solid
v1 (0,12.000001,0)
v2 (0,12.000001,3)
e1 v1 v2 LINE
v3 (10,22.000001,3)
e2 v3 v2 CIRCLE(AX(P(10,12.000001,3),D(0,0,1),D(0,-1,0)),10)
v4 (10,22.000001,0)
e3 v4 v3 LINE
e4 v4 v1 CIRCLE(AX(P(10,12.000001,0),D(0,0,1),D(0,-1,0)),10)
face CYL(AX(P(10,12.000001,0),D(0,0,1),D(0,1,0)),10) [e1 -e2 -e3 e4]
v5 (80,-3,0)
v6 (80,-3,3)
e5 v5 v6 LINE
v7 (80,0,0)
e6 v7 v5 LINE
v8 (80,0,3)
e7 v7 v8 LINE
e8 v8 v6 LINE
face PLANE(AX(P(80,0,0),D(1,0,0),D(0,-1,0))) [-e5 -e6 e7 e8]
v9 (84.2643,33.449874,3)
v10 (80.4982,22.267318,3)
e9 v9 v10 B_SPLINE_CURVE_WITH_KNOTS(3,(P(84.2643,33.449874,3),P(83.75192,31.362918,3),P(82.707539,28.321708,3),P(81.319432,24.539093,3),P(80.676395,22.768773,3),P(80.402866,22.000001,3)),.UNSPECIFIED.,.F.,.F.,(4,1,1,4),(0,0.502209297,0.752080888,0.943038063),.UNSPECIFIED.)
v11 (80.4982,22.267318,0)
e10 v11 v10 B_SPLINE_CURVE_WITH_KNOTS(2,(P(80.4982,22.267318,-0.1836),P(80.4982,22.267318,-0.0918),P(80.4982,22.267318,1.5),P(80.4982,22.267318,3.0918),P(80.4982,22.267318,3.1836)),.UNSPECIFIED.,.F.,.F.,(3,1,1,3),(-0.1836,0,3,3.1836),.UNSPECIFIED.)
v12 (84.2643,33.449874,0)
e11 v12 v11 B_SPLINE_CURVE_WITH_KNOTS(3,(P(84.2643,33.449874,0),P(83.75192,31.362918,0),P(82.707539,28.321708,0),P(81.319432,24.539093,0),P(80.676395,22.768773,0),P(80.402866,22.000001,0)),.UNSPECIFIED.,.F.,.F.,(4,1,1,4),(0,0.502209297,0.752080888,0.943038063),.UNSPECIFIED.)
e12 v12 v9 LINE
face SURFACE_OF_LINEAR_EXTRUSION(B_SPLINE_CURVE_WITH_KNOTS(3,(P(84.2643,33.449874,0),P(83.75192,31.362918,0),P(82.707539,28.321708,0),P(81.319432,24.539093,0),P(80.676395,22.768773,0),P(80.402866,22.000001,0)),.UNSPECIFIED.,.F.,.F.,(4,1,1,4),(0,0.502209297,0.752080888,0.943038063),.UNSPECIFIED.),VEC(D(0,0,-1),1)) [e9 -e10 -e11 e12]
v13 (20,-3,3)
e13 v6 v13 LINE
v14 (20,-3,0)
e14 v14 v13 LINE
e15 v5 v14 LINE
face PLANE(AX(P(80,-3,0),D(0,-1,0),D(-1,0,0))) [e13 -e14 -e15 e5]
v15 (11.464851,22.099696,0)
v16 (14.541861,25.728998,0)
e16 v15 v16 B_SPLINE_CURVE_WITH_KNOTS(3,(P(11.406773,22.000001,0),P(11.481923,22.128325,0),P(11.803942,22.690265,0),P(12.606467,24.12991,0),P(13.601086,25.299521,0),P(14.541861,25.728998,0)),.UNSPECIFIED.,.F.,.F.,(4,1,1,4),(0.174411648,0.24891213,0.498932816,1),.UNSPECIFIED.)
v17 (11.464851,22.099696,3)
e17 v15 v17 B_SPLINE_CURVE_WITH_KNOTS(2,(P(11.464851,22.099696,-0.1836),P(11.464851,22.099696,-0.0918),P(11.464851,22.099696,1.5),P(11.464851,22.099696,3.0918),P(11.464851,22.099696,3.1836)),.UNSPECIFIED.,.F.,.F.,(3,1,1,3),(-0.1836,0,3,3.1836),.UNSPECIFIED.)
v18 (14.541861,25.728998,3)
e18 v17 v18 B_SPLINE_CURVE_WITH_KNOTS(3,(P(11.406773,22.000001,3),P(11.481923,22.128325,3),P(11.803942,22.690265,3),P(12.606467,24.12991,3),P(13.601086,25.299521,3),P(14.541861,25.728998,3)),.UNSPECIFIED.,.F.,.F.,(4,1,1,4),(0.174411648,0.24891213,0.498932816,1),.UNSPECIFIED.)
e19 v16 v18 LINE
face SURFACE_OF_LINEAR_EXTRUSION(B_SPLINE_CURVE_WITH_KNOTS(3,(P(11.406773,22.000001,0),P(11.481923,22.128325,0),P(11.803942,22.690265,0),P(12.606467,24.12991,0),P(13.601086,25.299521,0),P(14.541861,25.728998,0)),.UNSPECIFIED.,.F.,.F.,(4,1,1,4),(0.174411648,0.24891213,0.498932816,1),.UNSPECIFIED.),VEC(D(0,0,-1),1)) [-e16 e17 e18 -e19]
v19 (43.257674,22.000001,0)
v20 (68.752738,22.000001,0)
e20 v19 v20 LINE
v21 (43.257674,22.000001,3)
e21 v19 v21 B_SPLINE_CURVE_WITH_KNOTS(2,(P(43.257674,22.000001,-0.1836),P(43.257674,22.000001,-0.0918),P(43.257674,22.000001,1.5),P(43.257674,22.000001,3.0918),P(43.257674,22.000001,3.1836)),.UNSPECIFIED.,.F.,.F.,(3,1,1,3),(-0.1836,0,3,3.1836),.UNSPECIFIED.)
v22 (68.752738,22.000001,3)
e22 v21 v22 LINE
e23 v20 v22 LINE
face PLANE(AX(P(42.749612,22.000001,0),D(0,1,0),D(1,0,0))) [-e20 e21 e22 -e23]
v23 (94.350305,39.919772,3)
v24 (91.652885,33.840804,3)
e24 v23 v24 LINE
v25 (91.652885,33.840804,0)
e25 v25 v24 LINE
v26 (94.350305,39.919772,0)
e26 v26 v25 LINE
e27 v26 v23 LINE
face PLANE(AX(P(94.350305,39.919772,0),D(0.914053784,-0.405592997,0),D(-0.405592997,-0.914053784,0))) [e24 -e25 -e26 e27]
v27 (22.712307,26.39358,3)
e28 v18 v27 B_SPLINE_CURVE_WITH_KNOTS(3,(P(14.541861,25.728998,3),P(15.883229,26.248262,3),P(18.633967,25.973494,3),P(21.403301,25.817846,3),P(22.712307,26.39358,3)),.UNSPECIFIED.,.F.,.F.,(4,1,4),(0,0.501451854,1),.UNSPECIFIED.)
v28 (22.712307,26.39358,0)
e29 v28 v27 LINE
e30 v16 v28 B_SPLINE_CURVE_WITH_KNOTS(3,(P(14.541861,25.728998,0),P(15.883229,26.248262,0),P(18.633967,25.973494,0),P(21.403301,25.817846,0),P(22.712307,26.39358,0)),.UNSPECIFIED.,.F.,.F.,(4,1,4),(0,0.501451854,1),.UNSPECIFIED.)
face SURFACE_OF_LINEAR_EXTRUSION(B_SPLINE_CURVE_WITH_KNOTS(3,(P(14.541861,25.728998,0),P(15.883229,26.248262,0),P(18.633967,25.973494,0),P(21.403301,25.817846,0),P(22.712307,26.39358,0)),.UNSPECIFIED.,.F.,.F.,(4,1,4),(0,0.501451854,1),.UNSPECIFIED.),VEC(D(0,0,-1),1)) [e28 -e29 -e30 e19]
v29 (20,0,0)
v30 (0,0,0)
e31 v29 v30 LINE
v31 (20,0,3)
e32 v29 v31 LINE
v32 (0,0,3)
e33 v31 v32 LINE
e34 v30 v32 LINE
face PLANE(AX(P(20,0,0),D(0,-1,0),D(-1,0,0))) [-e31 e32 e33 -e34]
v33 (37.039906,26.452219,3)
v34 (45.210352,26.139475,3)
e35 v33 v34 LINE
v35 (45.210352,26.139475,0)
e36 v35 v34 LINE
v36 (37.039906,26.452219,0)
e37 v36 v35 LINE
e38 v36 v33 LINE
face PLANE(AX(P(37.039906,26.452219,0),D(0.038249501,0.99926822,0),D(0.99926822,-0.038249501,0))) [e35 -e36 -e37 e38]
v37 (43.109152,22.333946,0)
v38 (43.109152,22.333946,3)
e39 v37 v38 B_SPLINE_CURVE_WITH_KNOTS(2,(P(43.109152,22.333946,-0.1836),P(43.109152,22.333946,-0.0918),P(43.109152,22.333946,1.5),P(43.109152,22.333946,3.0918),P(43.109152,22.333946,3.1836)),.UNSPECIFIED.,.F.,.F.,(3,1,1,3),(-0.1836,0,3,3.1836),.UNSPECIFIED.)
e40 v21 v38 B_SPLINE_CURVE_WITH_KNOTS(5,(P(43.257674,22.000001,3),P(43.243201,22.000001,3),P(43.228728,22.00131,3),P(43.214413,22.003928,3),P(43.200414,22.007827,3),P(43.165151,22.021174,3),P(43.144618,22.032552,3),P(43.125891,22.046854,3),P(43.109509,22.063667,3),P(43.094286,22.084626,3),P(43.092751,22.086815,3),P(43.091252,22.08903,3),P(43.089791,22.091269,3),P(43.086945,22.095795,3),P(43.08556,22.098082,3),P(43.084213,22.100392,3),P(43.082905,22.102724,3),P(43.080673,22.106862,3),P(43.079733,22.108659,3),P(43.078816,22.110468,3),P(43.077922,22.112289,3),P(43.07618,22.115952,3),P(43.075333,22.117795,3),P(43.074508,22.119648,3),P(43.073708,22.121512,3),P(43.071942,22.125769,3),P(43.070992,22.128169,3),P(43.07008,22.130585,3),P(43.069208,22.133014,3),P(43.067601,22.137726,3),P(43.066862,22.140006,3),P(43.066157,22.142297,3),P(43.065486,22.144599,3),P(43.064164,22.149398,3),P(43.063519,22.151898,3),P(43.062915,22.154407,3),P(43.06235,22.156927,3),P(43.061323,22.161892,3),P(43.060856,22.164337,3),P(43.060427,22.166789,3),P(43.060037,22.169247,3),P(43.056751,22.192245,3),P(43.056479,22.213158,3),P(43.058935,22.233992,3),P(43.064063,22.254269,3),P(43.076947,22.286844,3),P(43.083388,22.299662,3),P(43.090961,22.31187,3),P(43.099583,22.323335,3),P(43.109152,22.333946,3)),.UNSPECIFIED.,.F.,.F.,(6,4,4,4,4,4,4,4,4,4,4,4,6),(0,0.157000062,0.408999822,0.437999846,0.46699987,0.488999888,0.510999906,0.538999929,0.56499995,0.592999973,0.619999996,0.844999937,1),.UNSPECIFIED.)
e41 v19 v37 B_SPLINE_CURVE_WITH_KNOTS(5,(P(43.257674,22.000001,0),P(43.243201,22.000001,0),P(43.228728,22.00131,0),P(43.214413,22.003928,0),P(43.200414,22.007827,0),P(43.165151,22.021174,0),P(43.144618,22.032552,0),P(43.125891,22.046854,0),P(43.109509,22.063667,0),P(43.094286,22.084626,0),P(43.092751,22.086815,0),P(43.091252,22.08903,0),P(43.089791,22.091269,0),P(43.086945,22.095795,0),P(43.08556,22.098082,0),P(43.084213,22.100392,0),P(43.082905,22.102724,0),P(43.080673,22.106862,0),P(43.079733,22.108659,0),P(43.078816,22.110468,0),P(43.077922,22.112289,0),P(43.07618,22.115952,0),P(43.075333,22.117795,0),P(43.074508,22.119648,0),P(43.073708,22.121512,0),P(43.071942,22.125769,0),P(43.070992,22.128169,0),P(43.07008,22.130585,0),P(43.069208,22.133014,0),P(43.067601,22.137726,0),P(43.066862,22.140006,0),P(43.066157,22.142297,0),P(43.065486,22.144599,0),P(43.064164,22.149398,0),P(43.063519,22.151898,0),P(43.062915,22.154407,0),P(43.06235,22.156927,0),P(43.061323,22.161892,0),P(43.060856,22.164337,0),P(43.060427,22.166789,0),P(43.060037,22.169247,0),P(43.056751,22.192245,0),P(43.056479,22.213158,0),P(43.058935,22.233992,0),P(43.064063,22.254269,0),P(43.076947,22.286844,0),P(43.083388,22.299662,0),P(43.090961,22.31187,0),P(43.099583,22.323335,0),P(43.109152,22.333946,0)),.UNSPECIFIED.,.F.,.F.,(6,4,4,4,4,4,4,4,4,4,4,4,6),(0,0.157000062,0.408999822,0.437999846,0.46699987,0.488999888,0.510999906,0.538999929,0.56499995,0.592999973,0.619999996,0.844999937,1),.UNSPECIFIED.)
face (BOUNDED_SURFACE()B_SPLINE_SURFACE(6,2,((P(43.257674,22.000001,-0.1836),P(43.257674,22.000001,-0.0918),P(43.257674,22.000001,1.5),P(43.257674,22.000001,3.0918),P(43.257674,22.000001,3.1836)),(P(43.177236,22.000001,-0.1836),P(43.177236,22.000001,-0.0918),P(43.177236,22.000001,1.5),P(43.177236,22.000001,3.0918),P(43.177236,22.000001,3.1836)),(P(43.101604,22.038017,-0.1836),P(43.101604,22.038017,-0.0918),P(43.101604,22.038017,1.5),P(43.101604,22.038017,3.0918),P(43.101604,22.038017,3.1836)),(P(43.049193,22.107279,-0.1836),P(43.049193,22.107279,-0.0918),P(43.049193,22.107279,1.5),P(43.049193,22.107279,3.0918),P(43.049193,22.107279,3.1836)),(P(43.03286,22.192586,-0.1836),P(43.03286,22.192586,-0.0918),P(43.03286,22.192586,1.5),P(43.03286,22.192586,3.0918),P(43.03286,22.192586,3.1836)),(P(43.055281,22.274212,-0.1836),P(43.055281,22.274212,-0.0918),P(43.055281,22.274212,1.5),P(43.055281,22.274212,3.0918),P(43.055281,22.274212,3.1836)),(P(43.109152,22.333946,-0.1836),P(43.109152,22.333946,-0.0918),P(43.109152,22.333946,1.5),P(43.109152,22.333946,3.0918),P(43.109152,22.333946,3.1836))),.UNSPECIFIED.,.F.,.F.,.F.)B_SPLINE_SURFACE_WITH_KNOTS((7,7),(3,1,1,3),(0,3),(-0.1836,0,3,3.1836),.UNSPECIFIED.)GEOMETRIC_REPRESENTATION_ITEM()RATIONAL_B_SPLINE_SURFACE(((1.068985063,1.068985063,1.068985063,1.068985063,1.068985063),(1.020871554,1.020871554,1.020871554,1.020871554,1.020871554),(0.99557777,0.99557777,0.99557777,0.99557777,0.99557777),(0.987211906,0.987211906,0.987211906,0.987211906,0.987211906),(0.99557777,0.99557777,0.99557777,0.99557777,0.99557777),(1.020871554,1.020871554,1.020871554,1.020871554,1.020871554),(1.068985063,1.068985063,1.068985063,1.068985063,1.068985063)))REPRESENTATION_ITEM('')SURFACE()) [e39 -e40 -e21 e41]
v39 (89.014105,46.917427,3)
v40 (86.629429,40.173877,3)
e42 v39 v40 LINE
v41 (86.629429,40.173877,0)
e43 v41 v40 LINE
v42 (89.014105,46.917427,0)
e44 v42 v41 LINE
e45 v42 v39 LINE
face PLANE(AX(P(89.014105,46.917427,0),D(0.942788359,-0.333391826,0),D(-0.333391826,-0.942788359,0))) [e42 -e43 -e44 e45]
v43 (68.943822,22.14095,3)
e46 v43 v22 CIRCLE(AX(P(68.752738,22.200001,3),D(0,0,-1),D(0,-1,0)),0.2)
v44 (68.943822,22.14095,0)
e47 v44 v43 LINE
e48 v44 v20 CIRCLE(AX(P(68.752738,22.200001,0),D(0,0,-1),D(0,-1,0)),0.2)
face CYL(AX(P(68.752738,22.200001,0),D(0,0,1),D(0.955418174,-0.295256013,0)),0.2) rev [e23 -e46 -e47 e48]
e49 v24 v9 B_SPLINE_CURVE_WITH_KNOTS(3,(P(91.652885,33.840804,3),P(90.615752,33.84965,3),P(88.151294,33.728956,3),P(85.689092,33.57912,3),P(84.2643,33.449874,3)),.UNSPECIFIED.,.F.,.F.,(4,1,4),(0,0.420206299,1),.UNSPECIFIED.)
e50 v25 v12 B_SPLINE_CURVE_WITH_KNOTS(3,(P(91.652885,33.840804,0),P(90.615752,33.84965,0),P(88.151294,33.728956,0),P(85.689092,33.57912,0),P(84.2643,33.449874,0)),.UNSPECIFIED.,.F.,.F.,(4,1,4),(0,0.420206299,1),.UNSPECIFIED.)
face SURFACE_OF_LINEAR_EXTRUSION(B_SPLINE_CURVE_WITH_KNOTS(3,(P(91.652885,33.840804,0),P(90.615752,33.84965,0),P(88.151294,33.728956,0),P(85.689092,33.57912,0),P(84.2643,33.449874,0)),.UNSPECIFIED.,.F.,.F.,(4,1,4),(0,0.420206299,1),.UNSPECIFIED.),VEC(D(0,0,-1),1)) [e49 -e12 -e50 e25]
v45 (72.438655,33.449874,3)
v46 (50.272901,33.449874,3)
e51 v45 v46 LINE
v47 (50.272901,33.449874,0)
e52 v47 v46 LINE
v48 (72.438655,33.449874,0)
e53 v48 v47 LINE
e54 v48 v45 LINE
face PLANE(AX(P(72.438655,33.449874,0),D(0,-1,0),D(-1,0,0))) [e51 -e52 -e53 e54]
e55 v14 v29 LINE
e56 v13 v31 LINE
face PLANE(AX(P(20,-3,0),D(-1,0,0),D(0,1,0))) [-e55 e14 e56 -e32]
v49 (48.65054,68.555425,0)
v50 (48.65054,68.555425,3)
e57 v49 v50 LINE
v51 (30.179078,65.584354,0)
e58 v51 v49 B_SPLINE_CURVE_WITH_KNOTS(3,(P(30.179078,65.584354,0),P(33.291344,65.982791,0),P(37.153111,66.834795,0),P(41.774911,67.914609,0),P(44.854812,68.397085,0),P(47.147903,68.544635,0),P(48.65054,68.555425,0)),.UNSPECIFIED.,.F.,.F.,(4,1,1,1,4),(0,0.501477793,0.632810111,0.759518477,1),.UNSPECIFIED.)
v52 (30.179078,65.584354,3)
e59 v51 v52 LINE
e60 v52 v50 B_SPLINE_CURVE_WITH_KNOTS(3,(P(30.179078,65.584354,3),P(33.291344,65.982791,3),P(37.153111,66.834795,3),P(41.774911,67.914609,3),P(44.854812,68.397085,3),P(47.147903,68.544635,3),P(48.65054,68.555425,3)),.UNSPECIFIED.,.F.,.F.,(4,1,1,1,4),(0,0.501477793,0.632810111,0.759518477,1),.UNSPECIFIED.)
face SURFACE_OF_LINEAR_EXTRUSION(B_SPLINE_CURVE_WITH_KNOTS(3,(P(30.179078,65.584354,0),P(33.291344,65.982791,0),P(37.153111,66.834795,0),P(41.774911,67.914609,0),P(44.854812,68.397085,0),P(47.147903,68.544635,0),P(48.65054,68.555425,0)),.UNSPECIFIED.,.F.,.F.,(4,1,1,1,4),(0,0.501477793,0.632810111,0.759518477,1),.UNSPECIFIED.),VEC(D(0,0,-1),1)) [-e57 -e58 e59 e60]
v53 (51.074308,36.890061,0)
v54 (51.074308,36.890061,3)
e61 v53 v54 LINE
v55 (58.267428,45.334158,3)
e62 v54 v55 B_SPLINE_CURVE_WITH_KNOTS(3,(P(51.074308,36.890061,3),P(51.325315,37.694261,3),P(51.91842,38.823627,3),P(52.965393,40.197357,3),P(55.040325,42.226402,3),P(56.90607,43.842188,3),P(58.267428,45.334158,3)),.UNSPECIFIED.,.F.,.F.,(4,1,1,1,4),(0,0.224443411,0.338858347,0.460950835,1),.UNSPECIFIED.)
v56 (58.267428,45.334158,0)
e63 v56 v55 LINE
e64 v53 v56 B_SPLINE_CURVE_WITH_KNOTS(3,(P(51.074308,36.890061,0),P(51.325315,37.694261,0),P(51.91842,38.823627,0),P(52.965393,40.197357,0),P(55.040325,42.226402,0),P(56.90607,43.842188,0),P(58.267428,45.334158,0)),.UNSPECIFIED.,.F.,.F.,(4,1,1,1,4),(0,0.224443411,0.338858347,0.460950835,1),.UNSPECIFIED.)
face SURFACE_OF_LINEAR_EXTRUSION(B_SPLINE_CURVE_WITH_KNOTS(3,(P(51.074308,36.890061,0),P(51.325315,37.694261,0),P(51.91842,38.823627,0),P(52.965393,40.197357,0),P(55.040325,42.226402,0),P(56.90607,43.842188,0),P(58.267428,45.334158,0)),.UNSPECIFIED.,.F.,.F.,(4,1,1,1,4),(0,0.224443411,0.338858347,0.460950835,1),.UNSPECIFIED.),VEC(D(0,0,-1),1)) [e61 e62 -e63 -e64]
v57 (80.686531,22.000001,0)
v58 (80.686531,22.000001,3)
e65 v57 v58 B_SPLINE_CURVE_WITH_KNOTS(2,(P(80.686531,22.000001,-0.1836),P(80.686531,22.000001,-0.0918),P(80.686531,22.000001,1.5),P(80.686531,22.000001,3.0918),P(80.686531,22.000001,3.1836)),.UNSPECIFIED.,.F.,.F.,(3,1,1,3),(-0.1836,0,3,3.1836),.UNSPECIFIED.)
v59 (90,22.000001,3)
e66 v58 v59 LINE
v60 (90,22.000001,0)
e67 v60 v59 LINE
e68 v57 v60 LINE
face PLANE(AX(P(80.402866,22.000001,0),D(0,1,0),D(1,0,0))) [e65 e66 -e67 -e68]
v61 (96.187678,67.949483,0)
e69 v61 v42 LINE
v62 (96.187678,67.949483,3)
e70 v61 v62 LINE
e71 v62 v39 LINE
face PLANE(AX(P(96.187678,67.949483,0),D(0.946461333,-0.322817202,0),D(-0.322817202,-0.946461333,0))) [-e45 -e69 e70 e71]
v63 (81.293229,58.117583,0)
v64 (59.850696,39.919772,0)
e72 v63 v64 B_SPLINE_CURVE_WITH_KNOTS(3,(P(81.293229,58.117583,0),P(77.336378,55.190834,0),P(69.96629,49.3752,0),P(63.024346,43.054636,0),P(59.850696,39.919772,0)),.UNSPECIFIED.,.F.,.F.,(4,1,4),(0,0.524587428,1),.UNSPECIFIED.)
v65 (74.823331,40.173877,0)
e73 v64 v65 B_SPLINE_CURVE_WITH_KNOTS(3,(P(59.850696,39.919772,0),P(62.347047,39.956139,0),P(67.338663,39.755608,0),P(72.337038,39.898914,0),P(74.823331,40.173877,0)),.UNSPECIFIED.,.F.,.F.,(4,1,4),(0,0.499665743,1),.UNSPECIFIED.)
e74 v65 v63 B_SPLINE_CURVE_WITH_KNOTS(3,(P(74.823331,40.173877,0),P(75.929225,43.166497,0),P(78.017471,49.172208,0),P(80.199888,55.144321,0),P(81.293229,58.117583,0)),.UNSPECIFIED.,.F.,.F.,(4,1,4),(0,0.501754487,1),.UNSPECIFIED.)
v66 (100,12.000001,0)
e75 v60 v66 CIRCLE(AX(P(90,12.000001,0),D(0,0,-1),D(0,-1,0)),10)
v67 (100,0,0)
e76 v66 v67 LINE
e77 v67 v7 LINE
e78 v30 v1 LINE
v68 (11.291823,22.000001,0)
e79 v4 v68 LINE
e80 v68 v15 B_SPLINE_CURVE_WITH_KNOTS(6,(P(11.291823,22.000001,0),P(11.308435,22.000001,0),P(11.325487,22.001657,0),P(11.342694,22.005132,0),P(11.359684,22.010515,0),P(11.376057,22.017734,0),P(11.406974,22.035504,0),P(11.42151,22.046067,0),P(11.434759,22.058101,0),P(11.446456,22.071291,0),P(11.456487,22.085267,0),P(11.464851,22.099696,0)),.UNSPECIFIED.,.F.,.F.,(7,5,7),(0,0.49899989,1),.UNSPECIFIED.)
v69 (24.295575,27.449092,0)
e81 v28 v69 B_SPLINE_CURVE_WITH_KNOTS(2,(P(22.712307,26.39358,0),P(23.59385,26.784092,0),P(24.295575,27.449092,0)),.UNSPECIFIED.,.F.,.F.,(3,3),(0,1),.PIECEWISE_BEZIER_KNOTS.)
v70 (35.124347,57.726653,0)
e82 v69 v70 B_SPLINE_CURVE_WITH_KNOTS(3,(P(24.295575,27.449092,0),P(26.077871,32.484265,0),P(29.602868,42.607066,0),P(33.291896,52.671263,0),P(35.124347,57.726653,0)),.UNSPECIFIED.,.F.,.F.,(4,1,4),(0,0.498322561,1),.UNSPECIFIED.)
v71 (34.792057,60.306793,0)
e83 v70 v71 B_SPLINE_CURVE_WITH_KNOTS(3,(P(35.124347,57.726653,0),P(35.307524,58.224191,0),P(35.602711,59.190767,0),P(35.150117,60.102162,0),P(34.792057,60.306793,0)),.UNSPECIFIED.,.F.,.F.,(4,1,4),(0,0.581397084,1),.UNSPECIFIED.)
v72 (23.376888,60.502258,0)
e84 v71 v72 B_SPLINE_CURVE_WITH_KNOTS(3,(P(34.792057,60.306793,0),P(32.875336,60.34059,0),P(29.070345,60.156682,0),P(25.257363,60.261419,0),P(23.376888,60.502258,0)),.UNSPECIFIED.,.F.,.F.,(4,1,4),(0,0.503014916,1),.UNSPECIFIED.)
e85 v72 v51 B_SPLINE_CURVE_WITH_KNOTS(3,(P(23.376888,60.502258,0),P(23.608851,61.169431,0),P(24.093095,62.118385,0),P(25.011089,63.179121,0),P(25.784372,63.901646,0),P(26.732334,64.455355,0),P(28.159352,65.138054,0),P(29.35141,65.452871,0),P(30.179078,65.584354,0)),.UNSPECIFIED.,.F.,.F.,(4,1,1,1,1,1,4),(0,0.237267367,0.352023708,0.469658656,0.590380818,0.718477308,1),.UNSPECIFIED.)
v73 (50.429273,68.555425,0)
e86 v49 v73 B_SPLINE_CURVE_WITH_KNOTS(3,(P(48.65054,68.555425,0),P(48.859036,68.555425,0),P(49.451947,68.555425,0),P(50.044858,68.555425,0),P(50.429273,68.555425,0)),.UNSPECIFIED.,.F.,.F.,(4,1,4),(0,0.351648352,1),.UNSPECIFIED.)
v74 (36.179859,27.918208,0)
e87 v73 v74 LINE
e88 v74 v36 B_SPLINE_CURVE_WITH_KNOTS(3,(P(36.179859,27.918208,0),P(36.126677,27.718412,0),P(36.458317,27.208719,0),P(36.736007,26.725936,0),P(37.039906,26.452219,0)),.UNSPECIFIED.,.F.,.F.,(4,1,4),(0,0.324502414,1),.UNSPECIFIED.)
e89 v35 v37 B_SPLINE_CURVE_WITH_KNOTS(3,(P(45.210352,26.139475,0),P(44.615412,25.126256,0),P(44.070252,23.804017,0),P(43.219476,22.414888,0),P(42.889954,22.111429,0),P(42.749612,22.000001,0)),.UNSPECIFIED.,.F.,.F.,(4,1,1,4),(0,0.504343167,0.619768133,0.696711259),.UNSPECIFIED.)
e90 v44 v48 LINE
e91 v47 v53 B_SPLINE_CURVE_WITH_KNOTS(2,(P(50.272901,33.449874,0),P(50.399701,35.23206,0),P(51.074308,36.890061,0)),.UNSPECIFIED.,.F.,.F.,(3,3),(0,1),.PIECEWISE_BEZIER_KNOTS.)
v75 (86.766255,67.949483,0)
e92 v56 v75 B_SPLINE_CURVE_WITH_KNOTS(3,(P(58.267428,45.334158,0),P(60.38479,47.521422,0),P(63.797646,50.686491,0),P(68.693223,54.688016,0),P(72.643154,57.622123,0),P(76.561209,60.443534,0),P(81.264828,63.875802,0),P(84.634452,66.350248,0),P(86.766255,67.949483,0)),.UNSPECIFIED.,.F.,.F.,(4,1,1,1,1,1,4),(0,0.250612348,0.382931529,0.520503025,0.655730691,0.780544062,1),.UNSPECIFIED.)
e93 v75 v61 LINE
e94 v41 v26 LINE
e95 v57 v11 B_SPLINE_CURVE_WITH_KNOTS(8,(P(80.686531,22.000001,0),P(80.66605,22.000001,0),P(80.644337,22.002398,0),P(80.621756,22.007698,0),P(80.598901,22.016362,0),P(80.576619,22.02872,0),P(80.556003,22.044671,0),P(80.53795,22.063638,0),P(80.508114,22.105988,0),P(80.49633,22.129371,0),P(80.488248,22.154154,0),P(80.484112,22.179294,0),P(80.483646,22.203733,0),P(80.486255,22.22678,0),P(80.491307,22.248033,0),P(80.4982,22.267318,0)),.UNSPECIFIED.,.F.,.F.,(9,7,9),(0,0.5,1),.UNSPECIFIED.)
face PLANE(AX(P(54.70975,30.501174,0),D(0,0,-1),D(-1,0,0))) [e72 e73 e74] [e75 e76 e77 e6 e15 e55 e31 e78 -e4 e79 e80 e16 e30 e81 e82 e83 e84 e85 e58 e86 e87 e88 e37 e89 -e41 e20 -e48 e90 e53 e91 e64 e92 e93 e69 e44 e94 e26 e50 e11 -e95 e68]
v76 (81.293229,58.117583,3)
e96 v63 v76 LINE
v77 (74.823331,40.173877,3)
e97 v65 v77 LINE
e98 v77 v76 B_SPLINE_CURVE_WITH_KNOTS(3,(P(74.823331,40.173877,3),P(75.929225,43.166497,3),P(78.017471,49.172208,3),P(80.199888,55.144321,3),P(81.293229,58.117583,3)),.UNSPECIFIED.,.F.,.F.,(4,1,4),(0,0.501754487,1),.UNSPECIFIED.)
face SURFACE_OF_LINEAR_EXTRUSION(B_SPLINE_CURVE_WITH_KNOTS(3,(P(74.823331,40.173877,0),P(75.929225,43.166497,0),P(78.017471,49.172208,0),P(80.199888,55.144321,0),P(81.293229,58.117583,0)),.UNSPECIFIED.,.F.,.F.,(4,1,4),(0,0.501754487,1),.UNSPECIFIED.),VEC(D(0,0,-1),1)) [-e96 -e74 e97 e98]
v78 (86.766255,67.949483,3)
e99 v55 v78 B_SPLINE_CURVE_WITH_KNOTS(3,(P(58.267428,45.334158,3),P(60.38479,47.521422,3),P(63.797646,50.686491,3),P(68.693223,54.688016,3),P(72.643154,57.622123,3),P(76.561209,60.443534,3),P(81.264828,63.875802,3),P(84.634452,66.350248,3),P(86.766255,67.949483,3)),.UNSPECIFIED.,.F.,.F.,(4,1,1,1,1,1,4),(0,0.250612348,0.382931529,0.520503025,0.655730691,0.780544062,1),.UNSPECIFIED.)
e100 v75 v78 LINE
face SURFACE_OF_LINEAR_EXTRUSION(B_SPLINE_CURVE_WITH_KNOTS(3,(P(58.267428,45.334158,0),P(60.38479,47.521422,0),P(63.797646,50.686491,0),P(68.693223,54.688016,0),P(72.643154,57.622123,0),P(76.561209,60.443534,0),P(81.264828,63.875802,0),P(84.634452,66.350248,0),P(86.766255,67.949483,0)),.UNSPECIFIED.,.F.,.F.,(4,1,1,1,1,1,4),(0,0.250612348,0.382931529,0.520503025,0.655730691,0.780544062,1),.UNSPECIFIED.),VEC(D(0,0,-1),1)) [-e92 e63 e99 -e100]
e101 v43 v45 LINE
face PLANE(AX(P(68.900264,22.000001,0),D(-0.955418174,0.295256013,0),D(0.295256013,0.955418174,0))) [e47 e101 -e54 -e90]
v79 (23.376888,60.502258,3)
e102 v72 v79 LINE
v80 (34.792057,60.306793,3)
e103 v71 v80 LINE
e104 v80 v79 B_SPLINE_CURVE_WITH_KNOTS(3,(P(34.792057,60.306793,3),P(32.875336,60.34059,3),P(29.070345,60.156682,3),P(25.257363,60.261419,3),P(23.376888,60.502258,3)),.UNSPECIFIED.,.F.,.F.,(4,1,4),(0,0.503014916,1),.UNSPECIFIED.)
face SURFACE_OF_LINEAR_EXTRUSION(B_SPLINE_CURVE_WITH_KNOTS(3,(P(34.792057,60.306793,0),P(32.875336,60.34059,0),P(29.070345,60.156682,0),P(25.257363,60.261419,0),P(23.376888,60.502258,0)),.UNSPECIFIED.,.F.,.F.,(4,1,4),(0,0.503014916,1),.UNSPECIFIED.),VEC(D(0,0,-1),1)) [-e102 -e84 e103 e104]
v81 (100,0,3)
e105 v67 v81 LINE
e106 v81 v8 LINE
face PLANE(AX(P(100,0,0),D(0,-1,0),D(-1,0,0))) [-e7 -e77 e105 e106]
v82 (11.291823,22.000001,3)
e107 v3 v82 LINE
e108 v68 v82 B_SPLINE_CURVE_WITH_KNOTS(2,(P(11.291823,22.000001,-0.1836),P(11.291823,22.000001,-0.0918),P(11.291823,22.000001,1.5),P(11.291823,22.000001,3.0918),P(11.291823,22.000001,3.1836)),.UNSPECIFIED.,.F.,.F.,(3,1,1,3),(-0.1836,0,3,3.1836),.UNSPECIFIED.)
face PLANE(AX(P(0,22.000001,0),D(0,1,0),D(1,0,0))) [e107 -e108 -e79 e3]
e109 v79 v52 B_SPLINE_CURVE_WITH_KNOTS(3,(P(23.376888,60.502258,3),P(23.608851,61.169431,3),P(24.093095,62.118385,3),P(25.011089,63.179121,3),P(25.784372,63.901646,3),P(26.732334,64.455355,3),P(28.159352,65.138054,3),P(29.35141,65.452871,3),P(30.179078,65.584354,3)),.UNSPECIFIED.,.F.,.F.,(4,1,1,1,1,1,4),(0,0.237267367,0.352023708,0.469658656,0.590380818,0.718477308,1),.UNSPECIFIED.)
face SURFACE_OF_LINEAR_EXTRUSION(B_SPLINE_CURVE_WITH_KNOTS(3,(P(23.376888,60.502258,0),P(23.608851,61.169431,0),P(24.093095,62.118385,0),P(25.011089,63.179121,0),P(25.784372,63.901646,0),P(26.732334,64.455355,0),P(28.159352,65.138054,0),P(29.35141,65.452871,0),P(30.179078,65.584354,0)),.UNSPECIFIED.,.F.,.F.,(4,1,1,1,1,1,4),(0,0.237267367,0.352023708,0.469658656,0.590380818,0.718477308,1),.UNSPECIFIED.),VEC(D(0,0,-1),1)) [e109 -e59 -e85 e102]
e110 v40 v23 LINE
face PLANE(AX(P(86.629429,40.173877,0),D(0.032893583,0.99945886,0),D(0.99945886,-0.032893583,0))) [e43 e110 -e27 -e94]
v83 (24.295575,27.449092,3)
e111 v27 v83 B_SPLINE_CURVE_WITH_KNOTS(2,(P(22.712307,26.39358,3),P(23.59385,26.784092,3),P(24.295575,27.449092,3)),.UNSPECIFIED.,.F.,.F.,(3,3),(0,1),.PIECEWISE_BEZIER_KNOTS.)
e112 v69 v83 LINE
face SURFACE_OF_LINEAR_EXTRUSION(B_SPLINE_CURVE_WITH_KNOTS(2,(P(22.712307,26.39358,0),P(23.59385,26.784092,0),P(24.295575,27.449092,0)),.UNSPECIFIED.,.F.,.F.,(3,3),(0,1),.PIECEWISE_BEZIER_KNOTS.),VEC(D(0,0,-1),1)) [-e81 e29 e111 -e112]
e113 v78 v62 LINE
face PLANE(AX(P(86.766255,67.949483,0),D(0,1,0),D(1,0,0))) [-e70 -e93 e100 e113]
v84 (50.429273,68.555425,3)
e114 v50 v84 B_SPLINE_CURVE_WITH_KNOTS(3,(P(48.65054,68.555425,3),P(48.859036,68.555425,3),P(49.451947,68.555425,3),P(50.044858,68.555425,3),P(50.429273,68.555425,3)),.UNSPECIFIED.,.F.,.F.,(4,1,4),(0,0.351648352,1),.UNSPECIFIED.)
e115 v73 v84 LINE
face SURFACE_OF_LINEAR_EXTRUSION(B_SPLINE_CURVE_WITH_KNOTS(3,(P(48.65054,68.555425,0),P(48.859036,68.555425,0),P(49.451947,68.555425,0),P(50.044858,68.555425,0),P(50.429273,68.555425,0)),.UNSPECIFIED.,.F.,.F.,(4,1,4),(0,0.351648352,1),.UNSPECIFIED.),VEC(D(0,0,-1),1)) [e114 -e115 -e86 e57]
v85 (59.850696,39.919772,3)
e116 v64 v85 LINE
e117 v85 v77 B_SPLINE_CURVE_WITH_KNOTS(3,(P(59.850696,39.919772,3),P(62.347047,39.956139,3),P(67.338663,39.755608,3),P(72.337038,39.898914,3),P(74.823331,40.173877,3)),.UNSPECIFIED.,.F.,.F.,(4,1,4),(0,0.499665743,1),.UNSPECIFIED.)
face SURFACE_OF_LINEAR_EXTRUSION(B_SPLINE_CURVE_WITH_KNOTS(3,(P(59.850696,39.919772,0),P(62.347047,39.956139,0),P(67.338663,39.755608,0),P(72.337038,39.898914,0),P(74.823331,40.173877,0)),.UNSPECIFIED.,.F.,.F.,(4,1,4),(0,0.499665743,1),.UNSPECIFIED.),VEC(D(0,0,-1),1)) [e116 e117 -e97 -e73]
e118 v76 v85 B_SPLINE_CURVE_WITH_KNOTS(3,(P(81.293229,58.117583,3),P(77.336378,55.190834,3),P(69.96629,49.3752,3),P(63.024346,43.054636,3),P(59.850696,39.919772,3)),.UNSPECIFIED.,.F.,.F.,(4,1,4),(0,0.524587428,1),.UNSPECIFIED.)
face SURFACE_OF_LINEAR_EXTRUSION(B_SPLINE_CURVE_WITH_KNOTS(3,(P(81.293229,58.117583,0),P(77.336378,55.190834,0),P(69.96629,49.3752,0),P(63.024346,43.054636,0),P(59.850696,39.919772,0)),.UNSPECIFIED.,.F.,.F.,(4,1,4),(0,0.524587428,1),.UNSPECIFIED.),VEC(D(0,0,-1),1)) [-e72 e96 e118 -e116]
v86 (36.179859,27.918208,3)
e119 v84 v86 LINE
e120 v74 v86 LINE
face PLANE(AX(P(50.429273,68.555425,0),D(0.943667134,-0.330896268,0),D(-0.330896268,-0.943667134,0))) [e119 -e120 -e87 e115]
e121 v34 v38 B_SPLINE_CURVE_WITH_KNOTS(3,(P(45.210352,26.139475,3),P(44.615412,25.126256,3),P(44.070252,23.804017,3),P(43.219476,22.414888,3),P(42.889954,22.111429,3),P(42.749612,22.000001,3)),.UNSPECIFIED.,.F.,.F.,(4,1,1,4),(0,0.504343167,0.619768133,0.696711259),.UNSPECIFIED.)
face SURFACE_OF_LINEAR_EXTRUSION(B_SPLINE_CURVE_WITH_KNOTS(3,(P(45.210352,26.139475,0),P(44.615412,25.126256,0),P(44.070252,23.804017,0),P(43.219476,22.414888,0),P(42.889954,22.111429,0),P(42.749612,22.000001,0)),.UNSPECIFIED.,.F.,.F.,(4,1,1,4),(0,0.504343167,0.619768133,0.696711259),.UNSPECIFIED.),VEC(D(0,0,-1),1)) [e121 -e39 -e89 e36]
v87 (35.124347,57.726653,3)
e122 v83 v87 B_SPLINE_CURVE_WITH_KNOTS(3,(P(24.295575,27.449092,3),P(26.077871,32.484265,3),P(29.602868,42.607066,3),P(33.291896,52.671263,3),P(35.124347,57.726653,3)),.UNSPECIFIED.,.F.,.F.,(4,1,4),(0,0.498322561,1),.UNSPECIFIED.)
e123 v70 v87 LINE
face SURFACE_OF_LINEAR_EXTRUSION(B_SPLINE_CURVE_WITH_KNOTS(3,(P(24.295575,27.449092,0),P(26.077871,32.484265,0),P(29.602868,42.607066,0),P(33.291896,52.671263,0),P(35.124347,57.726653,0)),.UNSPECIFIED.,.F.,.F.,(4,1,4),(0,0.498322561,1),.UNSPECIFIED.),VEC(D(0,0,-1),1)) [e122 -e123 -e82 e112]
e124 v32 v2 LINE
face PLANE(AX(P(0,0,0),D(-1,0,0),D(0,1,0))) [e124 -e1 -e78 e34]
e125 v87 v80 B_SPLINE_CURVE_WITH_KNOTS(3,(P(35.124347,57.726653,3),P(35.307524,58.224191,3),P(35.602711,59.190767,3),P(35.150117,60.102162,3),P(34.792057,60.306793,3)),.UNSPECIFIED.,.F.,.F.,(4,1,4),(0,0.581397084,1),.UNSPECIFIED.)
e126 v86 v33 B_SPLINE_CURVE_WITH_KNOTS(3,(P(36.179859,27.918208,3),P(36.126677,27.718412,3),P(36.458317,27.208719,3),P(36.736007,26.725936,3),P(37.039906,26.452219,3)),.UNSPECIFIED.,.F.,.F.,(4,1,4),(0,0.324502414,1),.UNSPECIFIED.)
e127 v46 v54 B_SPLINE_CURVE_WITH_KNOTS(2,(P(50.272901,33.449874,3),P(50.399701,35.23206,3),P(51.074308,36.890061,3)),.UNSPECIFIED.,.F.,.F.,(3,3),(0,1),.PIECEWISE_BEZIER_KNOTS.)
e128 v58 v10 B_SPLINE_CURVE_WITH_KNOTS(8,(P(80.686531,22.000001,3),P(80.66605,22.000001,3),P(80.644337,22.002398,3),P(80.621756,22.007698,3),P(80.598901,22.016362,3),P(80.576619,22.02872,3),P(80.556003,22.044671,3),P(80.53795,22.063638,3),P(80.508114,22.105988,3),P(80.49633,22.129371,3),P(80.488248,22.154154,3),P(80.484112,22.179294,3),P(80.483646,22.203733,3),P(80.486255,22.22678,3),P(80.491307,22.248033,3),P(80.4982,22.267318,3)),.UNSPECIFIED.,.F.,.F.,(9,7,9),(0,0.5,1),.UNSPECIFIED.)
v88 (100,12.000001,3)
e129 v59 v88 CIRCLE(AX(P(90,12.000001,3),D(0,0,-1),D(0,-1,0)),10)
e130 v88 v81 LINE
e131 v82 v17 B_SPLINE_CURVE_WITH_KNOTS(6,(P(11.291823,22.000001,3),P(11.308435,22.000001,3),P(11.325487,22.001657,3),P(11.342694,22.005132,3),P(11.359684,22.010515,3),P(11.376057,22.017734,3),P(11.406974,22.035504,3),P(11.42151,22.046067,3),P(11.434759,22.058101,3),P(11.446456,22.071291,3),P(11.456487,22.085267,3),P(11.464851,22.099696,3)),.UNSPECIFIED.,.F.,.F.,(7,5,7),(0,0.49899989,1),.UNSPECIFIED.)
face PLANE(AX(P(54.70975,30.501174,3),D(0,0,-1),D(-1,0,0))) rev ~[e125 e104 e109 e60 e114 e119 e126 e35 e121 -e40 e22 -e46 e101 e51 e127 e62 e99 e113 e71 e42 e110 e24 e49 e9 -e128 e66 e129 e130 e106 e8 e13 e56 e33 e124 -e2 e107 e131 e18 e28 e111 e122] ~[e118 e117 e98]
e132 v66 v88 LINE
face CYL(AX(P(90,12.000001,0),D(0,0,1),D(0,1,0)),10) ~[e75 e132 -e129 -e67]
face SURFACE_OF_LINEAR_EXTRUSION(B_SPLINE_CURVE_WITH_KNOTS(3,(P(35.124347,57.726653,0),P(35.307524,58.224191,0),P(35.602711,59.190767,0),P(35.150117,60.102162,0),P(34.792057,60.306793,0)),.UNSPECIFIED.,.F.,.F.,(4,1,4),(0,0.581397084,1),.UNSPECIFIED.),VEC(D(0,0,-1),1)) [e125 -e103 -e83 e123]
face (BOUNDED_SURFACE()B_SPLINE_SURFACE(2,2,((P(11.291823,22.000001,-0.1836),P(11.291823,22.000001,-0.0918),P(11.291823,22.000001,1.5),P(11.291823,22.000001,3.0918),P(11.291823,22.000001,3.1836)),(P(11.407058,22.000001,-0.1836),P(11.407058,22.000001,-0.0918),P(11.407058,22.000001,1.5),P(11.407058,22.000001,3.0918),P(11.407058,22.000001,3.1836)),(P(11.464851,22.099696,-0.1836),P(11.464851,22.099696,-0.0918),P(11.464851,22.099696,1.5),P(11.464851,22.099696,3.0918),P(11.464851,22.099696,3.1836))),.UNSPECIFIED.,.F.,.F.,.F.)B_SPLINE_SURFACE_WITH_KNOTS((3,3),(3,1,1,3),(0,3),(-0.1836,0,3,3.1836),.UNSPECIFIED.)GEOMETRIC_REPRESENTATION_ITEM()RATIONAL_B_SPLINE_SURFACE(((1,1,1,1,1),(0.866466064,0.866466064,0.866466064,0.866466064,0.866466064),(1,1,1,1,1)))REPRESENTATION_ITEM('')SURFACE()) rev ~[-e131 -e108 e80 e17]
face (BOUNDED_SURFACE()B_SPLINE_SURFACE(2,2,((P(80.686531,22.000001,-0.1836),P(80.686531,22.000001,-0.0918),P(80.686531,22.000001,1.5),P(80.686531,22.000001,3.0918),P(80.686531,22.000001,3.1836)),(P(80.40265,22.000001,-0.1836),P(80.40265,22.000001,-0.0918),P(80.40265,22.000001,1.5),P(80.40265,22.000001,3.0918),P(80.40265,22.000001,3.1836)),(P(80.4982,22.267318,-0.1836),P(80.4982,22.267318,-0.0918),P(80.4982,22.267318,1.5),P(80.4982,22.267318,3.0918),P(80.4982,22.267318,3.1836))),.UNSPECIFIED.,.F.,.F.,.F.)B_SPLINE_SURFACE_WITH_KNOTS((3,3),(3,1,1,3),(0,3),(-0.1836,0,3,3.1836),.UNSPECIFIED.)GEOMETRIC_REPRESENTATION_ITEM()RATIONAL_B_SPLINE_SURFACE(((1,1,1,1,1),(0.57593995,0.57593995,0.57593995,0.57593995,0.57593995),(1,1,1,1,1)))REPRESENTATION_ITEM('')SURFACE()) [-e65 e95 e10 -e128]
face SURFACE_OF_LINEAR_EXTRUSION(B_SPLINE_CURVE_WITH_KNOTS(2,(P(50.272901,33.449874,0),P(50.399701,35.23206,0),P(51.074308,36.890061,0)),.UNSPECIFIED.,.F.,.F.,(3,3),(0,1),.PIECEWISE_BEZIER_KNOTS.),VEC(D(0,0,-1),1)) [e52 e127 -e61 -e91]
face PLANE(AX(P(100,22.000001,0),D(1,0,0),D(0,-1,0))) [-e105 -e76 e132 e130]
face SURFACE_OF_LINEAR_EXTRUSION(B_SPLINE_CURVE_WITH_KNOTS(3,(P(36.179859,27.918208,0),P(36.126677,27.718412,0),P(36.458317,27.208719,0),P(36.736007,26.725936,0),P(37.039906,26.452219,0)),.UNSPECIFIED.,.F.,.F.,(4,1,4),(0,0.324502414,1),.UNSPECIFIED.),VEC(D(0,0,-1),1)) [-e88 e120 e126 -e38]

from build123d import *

# Parameters (mm, degrees)
BOSS_EXTRUDE1_DEPTH = 3
FILLET1_R           = 10
FILLET2_R           = 0.2


with BuildPart() as part:
    # Sketch1 → Boss-Extrude1 (new body)
    with BuildSketch(Plane.XY):
        with BuildLine():
            Line((42.749612228, 22.000000982), (68.900263663, 22.000000982))
            Line((68.900263663, 22.000000982), (72.438655427, 33.449873816))
            Line((72.438655427, 33.449873816), (50.272900931, 33.449873816))
            add(Edge.make_bspline(
                [(50.272900931, 33.449873816), (50.399701069, 35.232060422), (51.07430828, 36.890061462)],
                knots=[0, 0, 0, 1, 1, 1], degree=2))
            add(Edge.make_bspline(
                [(51.07430828, 36.890061462), (51.325314504, 37.69426052), (51.918420301, 38.823627057), (52.965393254, 40.197356727), (55.040325227, 42.226401797), (56.906069545, 43.842187727), (58.267427905, 45.334158413)],
                knots=[0, 0, 0, 0, 0.224443411, 0.338858347, 0.460950835, 1, 1, 1, 1], degree=3))
            add(Edge.make_bspline(
                [(58.267427905, 45.334158413), (60.384790067, 47.521422491), (63.79764632, 50.686490857), (68.693222774, 54.688016487), (72.643154035, 57.622122808), (76.561208747, 60.443533866), (81.264828304, 63.875801937), (84.634451747, 66.35024823), (86.766255114, 67.949482885)],
                knots=[0, 0, 0, 0, 0.250612348, 0.382931529, 0.520503025, 0.655730691, 0.780544062, 1, 1, 1, 1], degree=3))
            Line((86.766255114, 67.949482885), (96.1876781, 67.949482885))
            Line((96.1876781, 67.949482885), (89.014104997, 46.917426591))
            Line((89.014104997, 46.917426591), (86.629429469, 40.173876943))
            Line((86.629429469, 40.173876943), (94.350305153, 39.919772174))
            Line((94.350305153, 39.919772174), (91.652885294, 33.84080423))
            add(Edge.make_bspline(
                [(91.652885294, 33.84080423), (90.615751555, 33.849650126), (88.151293743, 33.72895626), (85.689091845, 33.579119519), (84.264300462, 33.449873816)],
                knots=[0, 0, 0, 0, 0.420206299, 1, 1, 1, 1], degree=3))
            add(Edge.make_bspline(
                [(84.264300462, 33.449873816), (83.751919692, 31.362918248), (82.707539096, 28.321707646), (81.319432158, 24.539092544), (80.676394779, 22.768772837), (80.402865584, 22.000000982)],
                knots=[0, 0, 0, 0, 0.502209297, 0.752080888, 0.943038063, 0.943038063, 0.943038063, 0.943038063], degree=3))
            Line((80.402865584, 22.000000982), (90.110220598, 22.000000982))
            Line((90.110220598, 22.000000982), (100, 22.000000982))
            Line((100, 22.000000982), (100, 0))
            Line((100, 0), (80, 0))
            Line((80, 0), (80, -3))
            Line((80, -3), (20, -3))
            Line((20, -3), (20, 0))
            Line((20, 0), (0, 0))
            Line((0, 0), (0, 22.000000982))
            Line((0, 22.000000982), (11.406772984, 22.000000982))
            add(Edge.make_bspline(
                [(11.406772984, 22.000000982), (11.481923411, 22.128324781), (11.803942066, 22.690265443), (12.606466874, 24.1299098), (13.601086209, 25.299520611), (14.541861056, 25.728998132)],
                knots=[0.174411648, 0.174411648, 0.174411648, 0.174411648, 0.24891213, 0.498932816, 1, 1, 1, 1], degree=3))
            add(Edge.make_bspline(
                [(14.541861056, 25.728998132), (15.88322935, 26.248262142), (18.633967114, 25.973494082), (21.403300538, 25.817845983), (22.712306717, 26.393579836)],
                knots=[0, 0, 0, 0, 0.501451854, 1, 1, 1, 1], degree=3))
            add(Edge.make_bspline(
                [(22.712306717, 26.393579836), (23.593849654, 26.784092389), (24.295574895, 27.449091955)],
                knots=[0, 0, 0, 1, 1, 1], degree=2))
            add(Edge.make_bspline(
                [(24.295574895, 27.449091955), (26.077870774, 32.484264955), (29.602867976, 42.60706621), (33.291895969, 52.671262962), (35.124347373, 57.726652549)],
                knots=[0, 0, 0, 0, 0.498322561, 1, 1, 1, 1], degree=3))
            add(Edge.make_bspline(
                [(35.124347373, 57.726652549), (35.307524439, 58.224190762), (35.602710566, 59.190766536), (35.150116794, 60.102162008), (34.792056521, 60.306793284)],
                knots=[0, 0, 0, 0, 0.581397084, 1, 1, 1, 1], degree=3))
            add(Edge.make_bspline(
                [(34.792056521, 60.306793284), (32.875335639, 60.340590356), (29.070344759, 60.156681953), (25.25736304, 60.26141883), (23.376888421, 60.502258491)],
                knots=[0, 0, 0, 0, 0.503014916, 1, 1, 1, 1], degree=3))
            add(Edge.make_bspline(
                [(23.376888421, 60.502258491), (23.608850931, 61.169430986), (24.093094541, 62.118385021), (25.011088656, 63.179121193), (25.784372398, 63.90164623), (26.73233409, 64.45535482), (28.159352101, 65.138054442), (29.35140978, 65.452871316), (30.179077631, 65.584353878)],
                knots=[0, 0, 0, 0, 0.237267367, 0.352023708, 0.469658656, 0.590380818, 0.718477308, 1, 1, 1, 1], degree=3))
            add(Edge.make_bspline(
                [(30.179077631, 65.584353878), (33.291343657, 65.982791022), (37.153111251, 66.834794979), (41.774910805, 67.914609184), (44.8548119, 68.397084929), (47.147903193, 68.544635368), (48.650539711, 68.555425028)],
                knots=[0, 0, 0, 0, 0.501477793, 0.632810111, 0.759518477, 1, 1, 1, 1], degree=3))
            add(Edge.make_bspline(
                [(48.650539711, 68.555425028), (48.859035932, 68.555425028), (49.451947061, 68.555425028), (50.044858189, 68.555425028), (50.429273097, 68.555425028)],
                knots=[0, 0, 0, 0, 0.351648352, 1, 1, 1, 1], degree=3))
            Line((50.429273097, 68.555425028), (36.179859492, 27.918208452))
            add(Edge.make_bspline(
                [(36.179859492, 27.918208452), (36.126676837, 27.718411957), (36.458316573, 27.208718898), (36.736006921, 26.725936024), (37.039906404, 26.452219398)],
                knots=[0, 0, 0, 0, 0.324502414, 1, 1, 1, 1], degree=3))
            Line((37.039906404, 26.452219398), (45.210352065, 26.139475067))
            add(Edge.make_bspline(
                [(45.210352065, 26.139475067), (44.6154125, 25.12625594), (44.070252391, 23.804016563), (43.219476455, 22.414888166), (42.889953696, 22.11142887), (42.749612228, 22.000000982)],
                knots=[0, 0, 0, 0, 0.504343167, 0.619768133, 0.696711259, 0.696711259, 0.696711259, 0.696711259], degree=3))
        make_face()
        with BuildLine():
            add(Edge.make_bspline(
                [(81.293229312, 58.117582963), (77.336378308, 55.190834109), (69.966290168, 49.375200463), (63.02434641, 43.054636478), (59.850696083, 39.919772174)],
                knots=[0, 0, 0, 0, 0.524587428, 1, 1, 1, 1], degree=3))
            add(Edge.make_bspline(
                [(59.850696083, 39.919772174), (62.347046703, 39.956138517), (67.338663055, 39.755607803), (72.337038175, 39.898913575), (74.823330954, 40.173876943)],
                knots=[0, 0, 0, 0, 0.499665743, 1, 1, 1, 1], degree=3))
            add(Edge.make_bspline(
                [(74.823330954, 40.173876943), (75.929225459, 43.166496772), (78.017470904, 49.172207513), (80.19988778, 55.144320848), (81.293229312, 58.117582963)],
                knots=[0, 0, 0, 0, 0.501754487, 1, 1, 1, 1], degree=3))
        make_face(mode=Mode.SUBTRACT)
    extrude(amount=BOSS_EXTRUDE1_DEPTH)

    # Fillet1
    fillet1_edges = [part.edges().sort_by_distance(p)[0] for p in [
        (100, 22.000000982, 1.5),
        (0, 22.000000982, 1.5),
    ]]
    fillet(fillet1_edges, radius=FILLET1_R)

    # Fillet2
    fillet2_edges = [part.edges().sort_by_distance(p)[0] for p in [
        (80.402865584, 22.000000982, 1.5),
        (42.749612228, 22.000000982, 1.5),
        (68.900263663, 22.000000982, 1.5),
        (11.406772984, 22.000000982, 1.5),
    ]]
    fillet(fillet2_edges, radius=FILLET2_R)


solid = part.part
